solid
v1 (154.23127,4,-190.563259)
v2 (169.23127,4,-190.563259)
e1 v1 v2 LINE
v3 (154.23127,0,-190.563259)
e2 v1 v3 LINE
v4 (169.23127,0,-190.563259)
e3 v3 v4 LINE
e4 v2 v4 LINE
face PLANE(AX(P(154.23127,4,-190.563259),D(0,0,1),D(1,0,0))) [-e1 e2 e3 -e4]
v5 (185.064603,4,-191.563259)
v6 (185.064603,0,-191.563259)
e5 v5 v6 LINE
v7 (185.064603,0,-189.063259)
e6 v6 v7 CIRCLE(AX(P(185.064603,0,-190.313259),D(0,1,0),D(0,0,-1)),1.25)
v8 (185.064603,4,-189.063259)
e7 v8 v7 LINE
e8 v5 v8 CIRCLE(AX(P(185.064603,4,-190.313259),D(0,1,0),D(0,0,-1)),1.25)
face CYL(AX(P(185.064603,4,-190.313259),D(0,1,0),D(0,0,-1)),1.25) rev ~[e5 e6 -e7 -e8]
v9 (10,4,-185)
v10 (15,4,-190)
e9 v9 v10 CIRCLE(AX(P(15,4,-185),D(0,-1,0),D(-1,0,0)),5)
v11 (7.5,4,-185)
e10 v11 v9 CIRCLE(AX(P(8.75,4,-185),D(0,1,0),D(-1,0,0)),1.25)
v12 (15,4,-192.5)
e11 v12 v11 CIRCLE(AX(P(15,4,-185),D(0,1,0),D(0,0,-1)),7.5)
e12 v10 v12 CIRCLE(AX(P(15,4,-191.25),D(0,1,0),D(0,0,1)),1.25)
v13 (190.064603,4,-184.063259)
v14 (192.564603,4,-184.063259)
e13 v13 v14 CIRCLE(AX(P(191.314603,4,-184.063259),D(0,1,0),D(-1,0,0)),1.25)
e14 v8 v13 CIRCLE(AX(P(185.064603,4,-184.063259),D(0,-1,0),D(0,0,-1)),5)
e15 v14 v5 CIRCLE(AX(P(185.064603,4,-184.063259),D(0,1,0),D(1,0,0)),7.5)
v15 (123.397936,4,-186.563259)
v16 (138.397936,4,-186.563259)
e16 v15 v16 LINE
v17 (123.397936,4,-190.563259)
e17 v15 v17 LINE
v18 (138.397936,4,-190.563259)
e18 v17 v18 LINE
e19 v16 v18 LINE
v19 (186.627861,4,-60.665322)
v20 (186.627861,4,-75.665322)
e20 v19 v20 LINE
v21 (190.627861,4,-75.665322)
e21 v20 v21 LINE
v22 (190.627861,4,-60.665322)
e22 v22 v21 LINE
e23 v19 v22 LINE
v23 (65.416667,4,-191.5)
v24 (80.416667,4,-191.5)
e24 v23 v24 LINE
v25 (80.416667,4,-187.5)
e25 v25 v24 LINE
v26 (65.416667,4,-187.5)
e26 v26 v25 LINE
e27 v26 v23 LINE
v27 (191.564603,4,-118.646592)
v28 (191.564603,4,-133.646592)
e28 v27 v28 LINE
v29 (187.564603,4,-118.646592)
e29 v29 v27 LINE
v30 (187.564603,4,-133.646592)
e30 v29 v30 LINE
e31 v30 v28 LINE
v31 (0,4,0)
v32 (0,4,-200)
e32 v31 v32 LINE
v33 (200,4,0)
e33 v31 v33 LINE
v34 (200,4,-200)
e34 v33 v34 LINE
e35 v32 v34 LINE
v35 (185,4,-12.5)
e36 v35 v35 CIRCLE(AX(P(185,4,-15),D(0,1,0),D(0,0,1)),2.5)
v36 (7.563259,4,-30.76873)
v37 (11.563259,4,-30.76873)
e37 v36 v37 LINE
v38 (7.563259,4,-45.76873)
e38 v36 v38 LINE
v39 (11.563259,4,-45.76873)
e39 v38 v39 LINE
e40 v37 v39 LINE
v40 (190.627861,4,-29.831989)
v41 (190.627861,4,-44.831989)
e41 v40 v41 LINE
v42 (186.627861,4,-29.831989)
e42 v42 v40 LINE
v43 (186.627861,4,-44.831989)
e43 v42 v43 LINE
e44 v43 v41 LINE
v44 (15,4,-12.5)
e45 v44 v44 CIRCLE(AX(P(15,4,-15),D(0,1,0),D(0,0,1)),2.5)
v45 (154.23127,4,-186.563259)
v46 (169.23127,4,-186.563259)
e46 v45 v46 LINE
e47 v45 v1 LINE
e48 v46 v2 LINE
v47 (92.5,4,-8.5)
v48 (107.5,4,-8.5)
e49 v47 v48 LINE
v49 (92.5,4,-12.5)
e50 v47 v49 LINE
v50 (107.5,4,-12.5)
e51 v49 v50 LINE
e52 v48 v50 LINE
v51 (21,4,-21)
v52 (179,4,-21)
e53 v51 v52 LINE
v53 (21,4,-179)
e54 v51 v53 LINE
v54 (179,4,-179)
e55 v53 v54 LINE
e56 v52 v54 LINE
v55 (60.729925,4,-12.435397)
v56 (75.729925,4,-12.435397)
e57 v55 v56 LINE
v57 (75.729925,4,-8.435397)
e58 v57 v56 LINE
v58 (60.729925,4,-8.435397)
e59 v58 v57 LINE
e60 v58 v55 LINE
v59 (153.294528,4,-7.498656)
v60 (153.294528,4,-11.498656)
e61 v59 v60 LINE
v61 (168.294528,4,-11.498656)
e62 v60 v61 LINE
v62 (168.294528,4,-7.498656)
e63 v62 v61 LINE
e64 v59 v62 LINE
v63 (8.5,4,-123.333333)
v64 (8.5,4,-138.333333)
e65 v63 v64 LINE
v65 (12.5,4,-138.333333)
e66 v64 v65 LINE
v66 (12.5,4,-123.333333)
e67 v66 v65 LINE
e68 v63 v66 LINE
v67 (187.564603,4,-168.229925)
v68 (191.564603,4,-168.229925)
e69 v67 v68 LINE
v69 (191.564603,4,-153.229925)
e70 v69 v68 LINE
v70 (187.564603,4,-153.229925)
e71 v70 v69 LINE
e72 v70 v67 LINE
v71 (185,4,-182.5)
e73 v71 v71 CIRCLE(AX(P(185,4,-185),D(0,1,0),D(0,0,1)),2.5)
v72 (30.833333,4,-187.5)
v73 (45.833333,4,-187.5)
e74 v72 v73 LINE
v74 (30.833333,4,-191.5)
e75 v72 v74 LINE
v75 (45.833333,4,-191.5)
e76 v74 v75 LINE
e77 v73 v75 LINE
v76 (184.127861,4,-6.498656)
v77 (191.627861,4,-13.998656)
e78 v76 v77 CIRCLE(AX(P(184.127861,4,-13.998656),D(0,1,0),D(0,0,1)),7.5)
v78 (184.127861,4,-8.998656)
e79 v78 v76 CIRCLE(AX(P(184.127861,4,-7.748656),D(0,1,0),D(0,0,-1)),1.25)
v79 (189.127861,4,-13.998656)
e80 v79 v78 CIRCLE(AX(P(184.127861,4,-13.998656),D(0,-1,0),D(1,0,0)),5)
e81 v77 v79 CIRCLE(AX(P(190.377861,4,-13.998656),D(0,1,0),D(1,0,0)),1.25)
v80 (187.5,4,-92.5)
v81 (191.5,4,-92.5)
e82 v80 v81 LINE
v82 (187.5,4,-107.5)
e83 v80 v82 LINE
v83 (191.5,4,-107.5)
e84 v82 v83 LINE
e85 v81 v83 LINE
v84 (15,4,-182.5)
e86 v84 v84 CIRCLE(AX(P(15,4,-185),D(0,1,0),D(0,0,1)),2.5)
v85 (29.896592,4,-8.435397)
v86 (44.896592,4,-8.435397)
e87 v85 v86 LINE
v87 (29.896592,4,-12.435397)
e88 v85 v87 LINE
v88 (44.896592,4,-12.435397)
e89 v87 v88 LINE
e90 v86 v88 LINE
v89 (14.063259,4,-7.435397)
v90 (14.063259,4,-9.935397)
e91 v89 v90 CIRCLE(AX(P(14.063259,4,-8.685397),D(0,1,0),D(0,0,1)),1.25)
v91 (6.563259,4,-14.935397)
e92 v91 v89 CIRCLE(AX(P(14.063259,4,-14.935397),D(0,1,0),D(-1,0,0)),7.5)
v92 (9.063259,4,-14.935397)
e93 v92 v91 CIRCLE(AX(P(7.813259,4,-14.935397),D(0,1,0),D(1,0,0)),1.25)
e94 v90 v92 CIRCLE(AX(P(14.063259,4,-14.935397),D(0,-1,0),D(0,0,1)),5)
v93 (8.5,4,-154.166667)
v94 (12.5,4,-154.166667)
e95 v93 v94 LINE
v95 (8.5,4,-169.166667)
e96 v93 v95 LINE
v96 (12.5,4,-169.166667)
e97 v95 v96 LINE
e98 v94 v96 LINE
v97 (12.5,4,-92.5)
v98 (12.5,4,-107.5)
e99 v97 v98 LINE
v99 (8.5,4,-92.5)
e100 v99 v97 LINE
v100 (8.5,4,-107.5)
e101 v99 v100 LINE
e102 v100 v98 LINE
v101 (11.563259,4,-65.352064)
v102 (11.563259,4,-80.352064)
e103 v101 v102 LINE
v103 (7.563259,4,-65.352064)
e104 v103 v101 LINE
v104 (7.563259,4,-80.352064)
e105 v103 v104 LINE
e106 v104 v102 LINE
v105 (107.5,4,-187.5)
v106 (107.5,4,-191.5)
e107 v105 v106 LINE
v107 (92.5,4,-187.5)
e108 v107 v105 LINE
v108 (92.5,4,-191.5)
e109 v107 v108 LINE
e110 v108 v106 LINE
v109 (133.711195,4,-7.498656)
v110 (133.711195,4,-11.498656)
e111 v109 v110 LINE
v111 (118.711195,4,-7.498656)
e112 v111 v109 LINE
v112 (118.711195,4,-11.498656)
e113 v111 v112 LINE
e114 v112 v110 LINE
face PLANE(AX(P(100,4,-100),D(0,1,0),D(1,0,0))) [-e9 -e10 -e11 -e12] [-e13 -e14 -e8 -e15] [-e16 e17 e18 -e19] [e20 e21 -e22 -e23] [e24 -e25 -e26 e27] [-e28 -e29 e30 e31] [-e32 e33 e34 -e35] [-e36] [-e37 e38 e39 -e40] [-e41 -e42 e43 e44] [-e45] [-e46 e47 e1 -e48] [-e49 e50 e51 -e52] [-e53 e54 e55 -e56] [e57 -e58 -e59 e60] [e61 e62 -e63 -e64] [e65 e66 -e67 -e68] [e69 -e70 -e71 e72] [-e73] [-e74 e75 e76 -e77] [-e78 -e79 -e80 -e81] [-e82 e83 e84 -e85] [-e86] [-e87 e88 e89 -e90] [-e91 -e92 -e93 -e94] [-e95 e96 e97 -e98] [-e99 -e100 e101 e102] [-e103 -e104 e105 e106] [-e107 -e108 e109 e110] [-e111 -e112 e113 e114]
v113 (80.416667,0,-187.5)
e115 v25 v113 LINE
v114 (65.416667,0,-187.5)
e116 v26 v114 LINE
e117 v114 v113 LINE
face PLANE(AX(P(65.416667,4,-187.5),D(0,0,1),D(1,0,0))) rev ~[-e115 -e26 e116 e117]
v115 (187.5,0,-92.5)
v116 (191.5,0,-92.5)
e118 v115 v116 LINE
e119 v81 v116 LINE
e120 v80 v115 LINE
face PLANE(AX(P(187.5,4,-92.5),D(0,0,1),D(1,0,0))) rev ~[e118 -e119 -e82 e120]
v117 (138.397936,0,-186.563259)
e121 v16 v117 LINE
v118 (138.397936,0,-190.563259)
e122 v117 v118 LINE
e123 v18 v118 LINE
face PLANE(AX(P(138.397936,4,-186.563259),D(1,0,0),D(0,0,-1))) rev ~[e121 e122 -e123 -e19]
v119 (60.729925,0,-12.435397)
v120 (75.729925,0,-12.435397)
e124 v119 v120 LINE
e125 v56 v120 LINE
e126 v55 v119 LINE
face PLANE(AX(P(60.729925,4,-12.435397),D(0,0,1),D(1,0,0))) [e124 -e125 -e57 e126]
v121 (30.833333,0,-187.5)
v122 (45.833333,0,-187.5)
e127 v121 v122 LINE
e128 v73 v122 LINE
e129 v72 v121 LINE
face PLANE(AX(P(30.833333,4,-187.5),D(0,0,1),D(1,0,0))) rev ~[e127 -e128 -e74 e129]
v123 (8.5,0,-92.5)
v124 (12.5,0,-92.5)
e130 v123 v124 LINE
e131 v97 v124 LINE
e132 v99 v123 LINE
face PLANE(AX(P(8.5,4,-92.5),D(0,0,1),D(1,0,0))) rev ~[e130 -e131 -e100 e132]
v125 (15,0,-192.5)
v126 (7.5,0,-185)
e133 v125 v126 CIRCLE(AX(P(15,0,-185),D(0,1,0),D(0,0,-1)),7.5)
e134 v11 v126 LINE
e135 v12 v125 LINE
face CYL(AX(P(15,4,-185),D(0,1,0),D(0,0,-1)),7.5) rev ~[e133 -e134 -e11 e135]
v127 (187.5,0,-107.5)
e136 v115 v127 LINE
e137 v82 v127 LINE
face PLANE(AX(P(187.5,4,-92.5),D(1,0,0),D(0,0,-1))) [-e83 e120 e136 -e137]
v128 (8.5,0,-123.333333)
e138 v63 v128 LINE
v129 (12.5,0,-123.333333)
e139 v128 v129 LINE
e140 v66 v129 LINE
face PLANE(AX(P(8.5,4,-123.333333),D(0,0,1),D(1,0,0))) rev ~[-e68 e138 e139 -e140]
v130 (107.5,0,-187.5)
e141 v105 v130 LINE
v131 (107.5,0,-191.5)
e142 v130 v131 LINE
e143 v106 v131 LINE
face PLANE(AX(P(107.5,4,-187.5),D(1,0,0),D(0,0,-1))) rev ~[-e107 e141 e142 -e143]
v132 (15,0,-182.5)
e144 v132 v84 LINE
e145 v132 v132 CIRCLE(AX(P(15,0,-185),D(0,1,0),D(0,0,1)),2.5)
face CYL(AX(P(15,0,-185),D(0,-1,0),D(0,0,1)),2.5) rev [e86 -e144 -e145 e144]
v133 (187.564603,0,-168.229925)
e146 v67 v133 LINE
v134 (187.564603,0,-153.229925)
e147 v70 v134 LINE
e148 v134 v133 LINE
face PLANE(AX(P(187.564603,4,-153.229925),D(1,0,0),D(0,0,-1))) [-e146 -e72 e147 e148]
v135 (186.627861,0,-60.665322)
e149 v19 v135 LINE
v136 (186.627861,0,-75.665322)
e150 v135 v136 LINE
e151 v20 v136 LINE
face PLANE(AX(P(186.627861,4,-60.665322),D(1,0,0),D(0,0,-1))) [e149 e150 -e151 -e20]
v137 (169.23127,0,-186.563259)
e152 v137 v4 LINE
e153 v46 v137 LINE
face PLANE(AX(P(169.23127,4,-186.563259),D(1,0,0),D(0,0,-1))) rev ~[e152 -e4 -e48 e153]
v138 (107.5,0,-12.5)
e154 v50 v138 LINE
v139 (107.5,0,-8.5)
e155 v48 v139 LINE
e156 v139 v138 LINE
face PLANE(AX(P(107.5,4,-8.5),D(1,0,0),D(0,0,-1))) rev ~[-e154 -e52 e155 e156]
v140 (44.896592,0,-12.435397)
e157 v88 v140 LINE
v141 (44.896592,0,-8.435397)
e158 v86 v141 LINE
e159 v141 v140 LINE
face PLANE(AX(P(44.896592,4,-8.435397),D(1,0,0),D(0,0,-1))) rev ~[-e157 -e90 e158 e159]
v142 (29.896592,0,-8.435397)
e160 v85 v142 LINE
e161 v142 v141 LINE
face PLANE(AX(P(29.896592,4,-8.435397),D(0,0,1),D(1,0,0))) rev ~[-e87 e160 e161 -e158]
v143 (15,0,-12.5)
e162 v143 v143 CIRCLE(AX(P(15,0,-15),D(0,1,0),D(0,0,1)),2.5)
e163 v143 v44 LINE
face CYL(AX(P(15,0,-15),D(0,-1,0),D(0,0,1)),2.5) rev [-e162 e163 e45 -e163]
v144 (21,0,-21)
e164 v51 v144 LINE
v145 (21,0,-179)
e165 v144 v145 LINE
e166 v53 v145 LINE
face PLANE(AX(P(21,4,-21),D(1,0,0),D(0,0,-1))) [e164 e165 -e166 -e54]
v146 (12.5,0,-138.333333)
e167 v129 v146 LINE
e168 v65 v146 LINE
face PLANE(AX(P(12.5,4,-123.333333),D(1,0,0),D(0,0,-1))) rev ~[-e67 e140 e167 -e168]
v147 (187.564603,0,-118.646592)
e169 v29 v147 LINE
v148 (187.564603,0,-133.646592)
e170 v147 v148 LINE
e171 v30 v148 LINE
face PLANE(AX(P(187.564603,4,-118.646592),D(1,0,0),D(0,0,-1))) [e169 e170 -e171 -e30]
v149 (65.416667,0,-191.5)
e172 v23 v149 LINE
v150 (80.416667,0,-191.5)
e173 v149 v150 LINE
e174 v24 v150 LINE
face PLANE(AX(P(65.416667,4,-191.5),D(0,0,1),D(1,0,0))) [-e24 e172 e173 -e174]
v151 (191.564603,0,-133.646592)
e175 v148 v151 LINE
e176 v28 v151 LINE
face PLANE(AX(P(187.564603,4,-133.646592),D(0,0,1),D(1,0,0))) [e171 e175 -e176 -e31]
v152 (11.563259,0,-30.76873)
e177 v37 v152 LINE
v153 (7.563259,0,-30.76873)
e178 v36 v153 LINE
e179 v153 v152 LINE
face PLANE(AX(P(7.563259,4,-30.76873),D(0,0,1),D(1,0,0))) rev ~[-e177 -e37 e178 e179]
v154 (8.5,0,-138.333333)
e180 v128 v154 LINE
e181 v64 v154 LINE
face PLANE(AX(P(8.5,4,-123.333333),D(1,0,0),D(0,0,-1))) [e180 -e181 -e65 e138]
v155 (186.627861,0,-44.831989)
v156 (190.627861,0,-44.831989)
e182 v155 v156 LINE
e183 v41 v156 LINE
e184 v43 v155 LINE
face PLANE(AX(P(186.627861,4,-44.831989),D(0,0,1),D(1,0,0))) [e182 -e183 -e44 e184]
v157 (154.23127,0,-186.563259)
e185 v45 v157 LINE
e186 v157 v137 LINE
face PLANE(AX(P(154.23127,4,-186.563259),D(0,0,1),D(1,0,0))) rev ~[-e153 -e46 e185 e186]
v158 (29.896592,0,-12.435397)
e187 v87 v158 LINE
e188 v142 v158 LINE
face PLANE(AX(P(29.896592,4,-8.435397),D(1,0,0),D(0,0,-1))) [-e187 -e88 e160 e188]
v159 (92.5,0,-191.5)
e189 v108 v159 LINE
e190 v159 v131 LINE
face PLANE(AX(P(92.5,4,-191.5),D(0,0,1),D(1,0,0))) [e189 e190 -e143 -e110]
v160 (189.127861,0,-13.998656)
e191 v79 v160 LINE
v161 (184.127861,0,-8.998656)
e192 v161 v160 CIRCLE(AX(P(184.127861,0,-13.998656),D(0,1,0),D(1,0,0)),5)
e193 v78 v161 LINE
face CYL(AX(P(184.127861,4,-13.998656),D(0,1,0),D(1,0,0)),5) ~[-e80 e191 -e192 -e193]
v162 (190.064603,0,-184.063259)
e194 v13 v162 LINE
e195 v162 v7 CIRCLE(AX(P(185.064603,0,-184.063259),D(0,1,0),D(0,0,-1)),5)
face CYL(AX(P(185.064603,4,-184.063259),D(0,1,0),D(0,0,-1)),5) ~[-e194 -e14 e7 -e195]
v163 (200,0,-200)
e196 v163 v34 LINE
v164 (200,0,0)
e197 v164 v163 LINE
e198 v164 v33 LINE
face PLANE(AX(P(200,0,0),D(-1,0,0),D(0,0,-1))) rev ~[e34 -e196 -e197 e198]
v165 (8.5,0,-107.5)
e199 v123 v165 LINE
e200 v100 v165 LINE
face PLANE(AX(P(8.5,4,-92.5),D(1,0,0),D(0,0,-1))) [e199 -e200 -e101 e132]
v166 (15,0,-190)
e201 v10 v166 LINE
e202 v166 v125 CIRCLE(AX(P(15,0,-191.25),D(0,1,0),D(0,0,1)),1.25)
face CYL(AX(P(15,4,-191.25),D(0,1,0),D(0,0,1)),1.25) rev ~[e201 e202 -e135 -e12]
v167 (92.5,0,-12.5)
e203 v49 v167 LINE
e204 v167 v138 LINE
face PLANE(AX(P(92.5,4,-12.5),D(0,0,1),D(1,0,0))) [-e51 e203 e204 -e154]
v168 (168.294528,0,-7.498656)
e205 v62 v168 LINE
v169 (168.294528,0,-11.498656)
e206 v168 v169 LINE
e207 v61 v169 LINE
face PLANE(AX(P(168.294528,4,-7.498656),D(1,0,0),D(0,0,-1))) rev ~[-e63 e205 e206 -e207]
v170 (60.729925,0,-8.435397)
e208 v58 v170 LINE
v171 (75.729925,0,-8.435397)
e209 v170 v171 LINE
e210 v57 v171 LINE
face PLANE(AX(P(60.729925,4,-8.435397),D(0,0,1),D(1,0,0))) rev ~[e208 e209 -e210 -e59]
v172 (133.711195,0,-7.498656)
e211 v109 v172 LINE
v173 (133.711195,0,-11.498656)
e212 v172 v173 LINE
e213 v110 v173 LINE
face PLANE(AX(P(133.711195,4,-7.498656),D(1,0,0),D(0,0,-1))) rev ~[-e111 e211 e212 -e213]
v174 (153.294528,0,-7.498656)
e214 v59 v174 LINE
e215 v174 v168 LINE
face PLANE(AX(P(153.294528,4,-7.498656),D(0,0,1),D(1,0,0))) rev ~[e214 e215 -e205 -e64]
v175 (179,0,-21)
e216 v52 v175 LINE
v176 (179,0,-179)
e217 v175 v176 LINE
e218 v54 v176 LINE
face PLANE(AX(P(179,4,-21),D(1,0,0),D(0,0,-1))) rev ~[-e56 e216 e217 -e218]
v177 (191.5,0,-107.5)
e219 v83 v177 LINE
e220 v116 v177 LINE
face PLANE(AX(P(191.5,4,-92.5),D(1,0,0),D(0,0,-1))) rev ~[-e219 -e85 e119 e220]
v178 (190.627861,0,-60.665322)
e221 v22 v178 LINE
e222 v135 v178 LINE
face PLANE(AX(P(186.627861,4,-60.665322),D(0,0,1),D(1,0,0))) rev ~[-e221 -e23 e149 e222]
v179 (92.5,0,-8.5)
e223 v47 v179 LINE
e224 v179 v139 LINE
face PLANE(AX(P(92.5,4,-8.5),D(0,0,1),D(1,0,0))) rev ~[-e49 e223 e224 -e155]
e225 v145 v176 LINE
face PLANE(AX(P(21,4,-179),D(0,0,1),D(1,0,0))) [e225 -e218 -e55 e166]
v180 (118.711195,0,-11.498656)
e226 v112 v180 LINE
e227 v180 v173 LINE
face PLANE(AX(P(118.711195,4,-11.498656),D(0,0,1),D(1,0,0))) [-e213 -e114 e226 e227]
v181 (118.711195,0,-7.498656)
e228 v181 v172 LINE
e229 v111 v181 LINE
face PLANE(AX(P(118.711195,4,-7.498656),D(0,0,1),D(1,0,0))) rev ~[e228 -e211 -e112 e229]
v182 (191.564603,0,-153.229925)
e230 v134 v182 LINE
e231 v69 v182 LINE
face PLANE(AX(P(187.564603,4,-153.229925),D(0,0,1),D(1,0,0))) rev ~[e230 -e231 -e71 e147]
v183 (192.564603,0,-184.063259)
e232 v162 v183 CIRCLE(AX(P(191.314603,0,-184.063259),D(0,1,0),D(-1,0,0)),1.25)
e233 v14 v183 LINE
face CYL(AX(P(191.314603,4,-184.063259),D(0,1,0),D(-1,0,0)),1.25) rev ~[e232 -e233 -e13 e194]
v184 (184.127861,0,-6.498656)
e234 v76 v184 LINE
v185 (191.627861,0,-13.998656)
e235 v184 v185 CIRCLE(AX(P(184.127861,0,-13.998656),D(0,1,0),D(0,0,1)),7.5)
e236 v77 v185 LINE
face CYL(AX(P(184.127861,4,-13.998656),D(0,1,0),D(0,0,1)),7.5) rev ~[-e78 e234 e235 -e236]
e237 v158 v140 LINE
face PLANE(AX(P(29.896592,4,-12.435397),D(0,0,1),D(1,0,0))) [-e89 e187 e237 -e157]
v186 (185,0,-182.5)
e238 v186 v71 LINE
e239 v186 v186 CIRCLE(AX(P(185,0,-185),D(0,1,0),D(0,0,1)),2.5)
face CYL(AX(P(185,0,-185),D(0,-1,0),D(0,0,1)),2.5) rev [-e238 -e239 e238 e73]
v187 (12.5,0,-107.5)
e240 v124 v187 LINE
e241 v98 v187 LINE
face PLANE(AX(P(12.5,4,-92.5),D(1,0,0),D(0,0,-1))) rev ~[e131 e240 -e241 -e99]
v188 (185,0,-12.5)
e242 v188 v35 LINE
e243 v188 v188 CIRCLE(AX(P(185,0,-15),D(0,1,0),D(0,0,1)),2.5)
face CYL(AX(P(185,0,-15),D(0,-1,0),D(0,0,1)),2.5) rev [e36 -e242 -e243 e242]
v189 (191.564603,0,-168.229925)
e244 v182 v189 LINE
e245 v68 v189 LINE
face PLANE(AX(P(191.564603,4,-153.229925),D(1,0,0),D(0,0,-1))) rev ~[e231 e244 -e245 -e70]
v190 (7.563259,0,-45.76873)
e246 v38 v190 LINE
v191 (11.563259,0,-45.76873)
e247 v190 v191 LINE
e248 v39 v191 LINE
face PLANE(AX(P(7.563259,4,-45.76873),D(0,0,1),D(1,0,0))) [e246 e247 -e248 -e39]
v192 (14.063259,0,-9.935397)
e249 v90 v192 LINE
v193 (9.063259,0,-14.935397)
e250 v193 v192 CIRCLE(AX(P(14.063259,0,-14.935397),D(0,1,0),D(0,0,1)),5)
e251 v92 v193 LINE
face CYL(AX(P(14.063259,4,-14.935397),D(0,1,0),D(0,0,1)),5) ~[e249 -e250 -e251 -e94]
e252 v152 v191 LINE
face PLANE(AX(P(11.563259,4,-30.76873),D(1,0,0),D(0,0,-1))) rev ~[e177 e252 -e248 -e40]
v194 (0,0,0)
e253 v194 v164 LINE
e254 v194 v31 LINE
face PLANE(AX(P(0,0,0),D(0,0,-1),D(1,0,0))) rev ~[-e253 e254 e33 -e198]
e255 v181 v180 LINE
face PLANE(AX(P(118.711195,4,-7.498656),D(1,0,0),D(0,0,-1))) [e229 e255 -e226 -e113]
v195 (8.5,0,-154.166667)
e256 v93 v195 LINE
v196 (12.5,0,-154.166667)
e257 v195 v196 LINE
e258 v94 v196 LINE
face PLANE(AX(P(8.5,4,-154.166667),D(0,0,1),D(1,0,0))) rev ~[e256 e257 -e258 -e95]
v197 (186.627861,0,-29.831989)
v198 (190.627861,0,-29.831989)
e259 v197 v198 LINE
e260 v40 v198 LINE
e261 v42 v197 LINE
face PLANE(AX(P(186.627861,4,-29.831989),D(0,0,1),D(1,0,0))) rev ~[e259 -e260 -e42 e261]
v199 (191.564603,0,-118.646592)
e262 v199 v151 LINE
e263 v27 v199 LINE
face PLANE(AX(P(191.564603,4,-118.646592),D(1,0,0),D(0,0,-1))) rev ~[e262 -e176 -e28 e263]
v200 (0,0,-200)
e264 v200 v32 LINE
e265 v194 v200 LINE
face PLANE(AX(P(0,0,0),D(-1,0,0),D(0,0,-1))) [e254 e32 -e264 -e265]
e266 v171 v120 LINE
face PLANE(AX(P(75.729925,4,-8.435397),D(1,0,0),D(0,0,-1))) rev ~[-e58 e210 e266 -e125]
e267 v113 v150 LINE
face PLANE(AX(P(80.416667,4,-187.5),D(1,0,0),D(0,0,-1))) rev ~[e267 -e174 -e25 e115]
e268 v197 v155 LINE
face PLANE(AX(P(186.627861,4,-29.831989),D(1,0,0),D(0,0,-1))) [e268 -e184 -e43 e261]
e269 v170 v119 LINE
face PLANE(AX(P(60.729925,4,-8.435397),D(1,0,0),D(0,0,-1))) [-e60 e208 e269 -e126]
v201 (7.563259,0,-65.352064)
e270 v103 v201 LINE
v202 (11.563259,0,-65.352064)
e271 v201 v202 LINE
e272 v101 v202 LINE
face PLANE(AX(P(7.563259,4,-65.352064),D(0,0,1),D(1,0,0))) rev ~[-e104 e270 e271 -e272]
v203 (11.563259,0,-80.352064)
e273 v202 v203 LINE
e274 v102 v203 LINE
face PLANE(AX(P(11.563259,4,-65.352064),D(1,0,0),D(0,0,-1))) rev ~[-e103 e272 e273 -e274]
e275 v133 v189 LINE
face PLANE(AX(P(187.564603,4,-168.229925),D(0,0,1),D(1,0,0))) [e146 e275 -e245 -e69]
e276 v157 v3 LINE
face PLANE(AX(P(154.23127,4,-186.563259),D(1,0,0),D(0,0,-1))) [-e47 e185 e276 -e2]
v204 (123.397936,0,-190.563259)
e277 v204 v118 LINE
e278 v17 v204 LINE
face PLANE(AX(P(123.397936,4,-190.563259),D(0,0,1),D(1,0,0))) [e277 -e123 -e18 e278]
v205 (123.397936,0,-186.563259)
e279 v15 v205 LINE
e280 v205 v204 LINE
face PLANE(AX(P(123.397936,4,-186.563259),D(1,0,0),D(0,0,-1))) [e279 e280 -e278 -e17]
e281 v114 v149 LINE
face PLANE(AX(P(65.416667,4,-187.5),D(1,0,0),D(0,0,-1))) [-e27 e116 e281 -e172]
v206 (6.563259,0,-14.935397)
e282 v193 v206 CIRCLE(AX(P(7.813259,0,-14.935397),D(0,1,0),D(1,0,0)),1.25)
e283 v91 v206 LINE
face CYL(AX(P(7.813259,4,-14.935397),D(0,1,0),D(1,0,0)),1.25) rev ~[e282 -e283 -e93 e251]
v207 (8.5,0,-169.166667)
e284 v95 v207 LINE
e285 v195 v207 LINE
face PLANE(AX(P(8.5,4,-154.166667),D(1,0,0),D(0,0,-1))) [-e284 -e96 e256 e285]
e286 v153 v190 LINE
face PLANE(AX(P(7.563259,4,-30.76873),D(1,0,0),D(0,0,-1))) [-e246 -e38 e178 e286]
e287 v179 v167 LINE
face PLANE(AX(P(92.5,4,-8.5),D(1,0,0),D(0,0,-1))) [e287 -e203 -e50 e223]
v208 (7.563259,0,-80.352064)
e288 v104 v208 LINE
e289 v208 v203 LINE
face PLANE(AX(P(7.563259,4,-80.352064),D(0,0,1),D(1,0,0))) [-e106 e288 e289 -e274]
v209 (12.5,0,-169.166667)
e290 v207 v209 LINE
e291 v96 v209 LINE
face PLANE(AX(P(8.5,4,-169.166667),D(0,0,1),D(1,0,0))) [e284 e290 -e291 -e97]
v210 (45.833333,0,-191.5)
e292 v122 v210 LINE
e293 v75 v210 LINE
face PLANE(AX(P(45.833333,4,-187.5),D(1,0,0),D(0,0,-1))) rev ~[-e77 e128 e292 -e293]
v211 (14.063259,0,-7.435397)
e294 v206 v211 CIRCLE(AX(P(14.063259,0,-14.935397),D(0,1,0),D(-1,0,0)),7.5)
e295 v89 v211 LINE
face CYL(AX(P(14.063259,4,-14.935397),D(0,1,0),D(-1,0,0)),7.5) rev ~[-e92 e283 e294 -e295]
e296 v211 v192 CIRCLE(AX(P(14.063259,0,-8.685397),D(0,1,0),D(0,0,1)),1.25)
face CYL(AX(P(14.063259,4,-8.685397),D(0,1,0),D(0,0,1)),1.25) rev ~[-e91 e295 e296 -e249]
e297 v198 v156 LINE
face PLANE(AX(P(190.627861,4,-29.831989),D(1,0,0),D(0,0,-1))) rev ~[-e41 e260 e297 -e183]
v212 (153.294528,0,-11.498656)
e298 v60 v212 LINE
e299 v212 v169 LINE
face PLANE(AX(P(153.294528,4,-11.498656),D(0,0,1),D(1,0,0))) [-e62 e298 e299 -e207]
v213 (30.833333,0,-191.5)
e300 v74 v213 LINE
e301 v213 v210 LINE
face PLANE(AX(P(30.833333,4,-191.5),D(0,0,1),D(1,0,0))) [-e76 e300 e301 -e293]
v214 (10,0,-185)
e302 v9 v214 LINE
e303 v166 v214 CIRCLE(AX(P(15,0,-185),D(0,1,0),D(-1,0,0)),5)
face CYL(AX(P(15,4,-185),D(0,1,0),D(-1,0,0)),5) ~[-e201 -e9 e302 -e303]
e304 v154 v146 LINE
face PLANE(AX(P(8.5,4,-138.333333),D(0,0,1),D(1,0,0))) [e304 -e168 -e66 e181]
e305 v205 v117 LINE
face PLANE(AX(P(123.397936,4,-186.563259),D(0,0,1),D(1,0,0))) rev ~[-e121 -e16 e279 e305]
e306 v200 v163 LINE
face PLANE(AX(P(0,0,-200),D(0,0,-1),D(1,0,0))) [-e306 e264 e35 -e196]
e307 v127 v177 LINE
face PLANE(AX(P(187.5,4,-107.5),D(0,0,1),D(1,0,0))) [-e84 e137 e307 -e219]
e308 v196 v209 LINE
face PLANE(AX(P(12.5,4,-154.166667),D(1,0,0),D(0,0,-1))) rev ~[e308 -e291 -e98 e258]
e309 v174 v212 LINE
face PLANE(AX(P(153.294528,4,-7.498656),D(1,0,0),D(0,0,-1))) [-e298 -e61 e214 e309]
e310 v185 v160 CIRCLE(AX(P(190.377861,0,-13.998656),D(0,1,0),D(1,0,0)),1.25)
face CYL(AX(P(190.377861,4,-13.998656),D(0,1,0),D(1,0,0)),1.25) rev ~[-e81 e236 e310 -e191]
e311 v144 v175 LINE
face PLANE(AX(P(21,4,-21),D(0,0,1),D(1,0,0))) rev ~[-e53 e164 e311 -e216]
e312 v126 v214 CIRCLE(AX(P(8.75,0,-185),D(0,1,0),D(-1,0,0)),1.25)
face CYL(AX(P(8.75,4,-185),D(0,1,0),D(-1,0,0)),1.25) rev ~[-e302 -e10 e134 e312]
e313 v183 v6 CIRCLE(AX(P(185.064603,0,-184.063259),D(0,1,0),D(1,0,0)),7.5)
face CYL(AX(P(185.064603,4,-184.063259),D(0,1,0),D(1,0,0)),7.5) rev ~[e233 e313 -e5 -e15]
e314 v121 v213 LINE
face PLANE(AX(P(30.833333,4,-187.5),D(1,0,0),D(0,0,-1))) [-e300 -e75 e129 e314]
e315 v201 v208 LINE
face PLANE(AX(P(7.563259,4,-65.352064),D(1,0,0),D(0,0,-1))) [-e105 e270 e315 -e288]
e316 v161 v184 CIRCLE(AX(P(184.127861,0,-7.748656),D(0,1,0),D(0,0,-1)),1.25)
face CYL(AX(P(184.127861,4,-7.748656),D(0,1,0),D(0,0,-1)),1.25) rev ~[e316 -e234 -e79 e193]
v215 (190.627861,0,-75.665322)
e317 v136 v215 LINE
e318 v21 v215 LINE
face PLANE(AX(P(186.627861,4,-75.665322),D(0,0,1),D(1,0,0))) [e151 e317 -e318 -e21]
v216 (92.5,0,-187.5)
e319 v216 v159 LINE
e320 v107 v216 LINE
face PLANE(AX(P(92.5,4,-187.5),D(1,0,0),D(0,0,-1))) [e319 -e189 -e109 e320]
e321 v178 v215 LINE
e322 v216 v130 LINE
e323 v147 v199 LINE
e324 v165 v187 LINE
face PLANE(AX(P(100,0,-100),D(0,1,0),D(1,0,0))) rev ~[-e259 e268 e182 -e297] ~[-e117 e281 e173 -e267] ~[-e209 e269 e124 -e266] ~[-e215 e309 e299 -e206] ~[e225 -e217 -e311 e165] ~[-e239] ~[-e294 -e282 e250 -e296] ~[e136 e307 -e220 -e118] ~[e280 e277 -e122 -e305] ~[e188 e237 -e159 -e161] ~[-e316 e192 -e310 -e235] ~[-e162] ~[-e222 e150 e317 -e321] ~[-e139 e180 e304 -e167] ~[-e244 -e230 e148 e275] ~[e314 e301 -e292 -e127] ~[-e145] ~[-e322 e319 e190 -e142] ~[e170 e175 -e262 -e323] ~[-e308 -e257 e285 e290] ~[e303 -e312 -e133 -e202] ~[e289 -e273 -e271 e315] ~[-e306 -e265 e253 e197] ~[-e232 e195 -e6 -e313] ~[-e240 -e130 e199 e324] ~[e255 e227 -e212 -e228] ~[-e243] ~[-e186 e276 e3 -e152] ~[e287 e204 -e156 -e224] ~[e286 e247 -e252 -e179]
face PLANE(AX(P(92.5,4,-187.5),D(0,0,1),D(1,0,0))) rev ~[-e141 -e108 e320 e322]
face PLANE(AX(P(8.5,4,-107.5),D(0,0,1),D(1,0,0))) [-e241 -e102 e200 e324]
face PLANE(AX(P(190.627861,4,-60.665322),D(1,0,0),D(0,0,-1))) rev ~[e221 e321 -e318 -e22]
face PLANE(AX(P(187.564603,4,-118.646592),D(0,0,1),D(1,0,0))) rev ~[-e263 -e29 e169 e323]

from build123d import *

# Parameters (mm, degrees)
CROQUIS1_W              = 200
CROQUIS1_H              = 200
CROQUIS1_R              = 2.5
SALIENTE_EXTRUIR1_DEPTH = 4
CROQUIS2_W              = 158
CROQUIS2_H              = 158
CORTAR_EXTRUIR1_DEPTH   = 10
CROQUIS4_W              = 4
CROQUIS4_H              = 15
CROQUIS4_W_2            = 15
CROQUIS4_H_2            = 4
CORTAR_EXTRUIR2_DEPTH   = 10


with BuildPart() as part:
    # Croquis1 → Saliente-Extruir1 (new body)
    with BuildSketch(Plane(origin=(0, 0, 0), x_dir=(1, 0, 0), z_dir=(0, 1, 0))):
        with Locations((100, 100)):
            Rectangle(CROQUIS1_W, CROQUIS1_H)
        with Locations(Location((15, 185, 0), (0, 0, 270))):
            Circle(CROQUIS1_R, mode=Mode.SUBTRACT)
        with Locations(Location((185, 185, 0), (0, 0, 270))):
            Circle(CROQUIS1_R, mode=Mode.SUBTRACT)
        with Locations(Location((185, 15, 0), (0, 0, 270))):
            Circle(CROQUIS1_R, mode=Mode.SUBTRACT)
        with Locations(Location((15, 15, 0), (0, 0, 270))):
            Circle(CROQUIS1_R, mode=Mode.SUBTRACT)
    extrude(amount=SALIENTE_EXTRUIR1_DEPTH)

    # Croquis2 → Cortar-Extruir1 (cut)
    with BuildSketch(Plane(origin=(0, 4, 0), x_dir=(1, 0, 0), z_dir=(0, 1, 0))):
        with Locations((100, 100)):
            Rectangle(CROQUIS2_W, CROQUIS2_H)
    extrude(amount=-CORTAR_EXTRUIR1_DEPTH, mode=Mode.SUBTRACT)

    # Croquis4 → Cortar-Extruir2 (cut)
    with BuildSketch(Plane(origin=(0, 4, 0), x_dir=(1, 0, 0), z_dir=(0, 1, 0))):
        with Locations((10.5, 130.833333333)):
            Rectangle(CROQUIS4_W, CROQUIS4_H)
        with Locations((10.5, 161.666666667)):
            Rectangle(CROQUIS4_W, CROQUIS4_H)
        with Locations((38.333333333, 189.5)):
            Rectangle(CROQUIS4_W_2, CROQUIS4_H_2)
        with Locations((72.916666667, 189.5)):
            Rectangle(CROQUIS4_W_2, CROQUIS4_H_2)
        with Locations((189.564602861, 126.146591855)):
            Rectangle(CROQUIS4_W, CROQUIS4_H)
        with Locations((189.564602861, 160.729925188)):
            Rectangle(CROQUIS4_W, CROQUIS4_H)
        with Locations((130.897936194, 188.563258522)):
            Rectangle(CROQUIS4_W_2, CROQUIS4_H_2)
        with Locations((161.731269527, 188.563258522)):
            Rectangle(CROQUIS4_W_2, CROQUIS4_H_2)
        with Locations((126.211194716, 9.498655661)):
            Rectangle(CROQUIS4_W_2, CROQUIS4_H_2)
        with Locations((160.794528049, 9.498655661)):
            Rectangle(CROQUIS4_W_2, CROQUIS4_H_2)
        with Locations((188.627861382, 68.165322328)):
            Rectangle(CROQUIS4_W, CROQUIS4_H)
        with Locations((188.627861382, 37.331988994)):
            Rectangle(CROQUIS4_W, CROQUIS4_H)
        with Locations((9.563258522, 72.852063806)):
            Rectangle(CROQUIS4_W, CROQUIS4_H)
        with Locations((9.563258522, 38.268730473)):
            Rectangle(CROQUIS4_W, CROQUIS4_H)
        with Locations((68.229925188, 10.435397139)):
            Rectangle(CROQUIS4_W_2, CROQUIS4_H_2)
        with Locations((37.396591855, 10.435397139)):
            Rectangle(CROQUIS4_W_2, CROQUIS4_H_2)
        with Locations((100, 189.5)):
            Rectangle(CROQUIS4_W_2, CROQUIS4_H_2)
        with Locations((10.5, 100)):
            Rectangle(CROQUIS4_W, CROQUIS4_H)
        with Locations((189.5, 100)):
            Rectangle(CROQUIS4_W, CROQUIS4_H)
        with Locations((100, 10.5)):
            Rectangle(CROQUIS4_W_2, CROQUIS4_H_2)
        with BuildLine():
            ThreePointArc((15, 192.5), (9.696699141, 190.303300859), (7.5, 185))
            ThreePointArc((7.5, 185), (8.75, 183.75), (10, 185))
            ThreePointArc((10, 185), (11.464466094, 188.535533906), (15, 190))
            ThreePointArc((15, 190), (16.25, 191.25), (15, 192.5))
        make_face()
        with BuildLine():
            ThreePointArc((185.064602861, 191.563258522), (183.814602861, 190.313258522), (185.064602861, 189.063258522))
            ThreePointArc((185.064602861, 189.063258522), (188.600136767, 187.598792428), (190.064602861, 184.063258522))
            ThreePointArc((190.064602861, 184.063258522), (191.314602861, 182.813258522), (192.564602861, 184.063258522))
            ThreePointArc((192.564602861, 184.063258522), (190.367903719, 189.366559381), (185.064602861, 191.563258522))
        make_face()
        with BuildLine():
            ThreePointArc((191.627861382, 13.998655661), (190.377861382, 15.248655661), (189.127861382, 13.998655661))
            ThreePointArc((189.127861382, 13.998655661), (187.663395288, 10.463121755), (184.127861382, 8.998655661))
            ThreePointArc((184.127861382, 8.998655661), (182.877861382, 7.748655661), (184.127861382, 6.498655661))
            ThreePointArc((184.127861382, 6.498655661), (189.431162241, 8.695354802), (191.627861382, 13.998655661))
        make_face()
        with BuildLine():
            ThreePointArc((14.063258522, 7.435397139), (15.313258522, 8.685397139), (14.063258522, 9.935397139))
            ThreePointArc((14.063258522, 9.935397139), (10.527724616, 11.399863233), (9.063258522, 14.935397139))
            ThreePointArc((9.063258522, 14.935397139), (7.813258522, 16.185397139), (6.563258522, 14.935397139))
            ThreePointArc((6.563258522, 14.935397139), (8.759957663, 9.632096281), (14.063258522, 7.435397139))
        make_face()
    extrude(amount=-CORTAR_EXTRUIR2_DEPTH, mode=Mode.SUBTRACT)


solid = part.part
